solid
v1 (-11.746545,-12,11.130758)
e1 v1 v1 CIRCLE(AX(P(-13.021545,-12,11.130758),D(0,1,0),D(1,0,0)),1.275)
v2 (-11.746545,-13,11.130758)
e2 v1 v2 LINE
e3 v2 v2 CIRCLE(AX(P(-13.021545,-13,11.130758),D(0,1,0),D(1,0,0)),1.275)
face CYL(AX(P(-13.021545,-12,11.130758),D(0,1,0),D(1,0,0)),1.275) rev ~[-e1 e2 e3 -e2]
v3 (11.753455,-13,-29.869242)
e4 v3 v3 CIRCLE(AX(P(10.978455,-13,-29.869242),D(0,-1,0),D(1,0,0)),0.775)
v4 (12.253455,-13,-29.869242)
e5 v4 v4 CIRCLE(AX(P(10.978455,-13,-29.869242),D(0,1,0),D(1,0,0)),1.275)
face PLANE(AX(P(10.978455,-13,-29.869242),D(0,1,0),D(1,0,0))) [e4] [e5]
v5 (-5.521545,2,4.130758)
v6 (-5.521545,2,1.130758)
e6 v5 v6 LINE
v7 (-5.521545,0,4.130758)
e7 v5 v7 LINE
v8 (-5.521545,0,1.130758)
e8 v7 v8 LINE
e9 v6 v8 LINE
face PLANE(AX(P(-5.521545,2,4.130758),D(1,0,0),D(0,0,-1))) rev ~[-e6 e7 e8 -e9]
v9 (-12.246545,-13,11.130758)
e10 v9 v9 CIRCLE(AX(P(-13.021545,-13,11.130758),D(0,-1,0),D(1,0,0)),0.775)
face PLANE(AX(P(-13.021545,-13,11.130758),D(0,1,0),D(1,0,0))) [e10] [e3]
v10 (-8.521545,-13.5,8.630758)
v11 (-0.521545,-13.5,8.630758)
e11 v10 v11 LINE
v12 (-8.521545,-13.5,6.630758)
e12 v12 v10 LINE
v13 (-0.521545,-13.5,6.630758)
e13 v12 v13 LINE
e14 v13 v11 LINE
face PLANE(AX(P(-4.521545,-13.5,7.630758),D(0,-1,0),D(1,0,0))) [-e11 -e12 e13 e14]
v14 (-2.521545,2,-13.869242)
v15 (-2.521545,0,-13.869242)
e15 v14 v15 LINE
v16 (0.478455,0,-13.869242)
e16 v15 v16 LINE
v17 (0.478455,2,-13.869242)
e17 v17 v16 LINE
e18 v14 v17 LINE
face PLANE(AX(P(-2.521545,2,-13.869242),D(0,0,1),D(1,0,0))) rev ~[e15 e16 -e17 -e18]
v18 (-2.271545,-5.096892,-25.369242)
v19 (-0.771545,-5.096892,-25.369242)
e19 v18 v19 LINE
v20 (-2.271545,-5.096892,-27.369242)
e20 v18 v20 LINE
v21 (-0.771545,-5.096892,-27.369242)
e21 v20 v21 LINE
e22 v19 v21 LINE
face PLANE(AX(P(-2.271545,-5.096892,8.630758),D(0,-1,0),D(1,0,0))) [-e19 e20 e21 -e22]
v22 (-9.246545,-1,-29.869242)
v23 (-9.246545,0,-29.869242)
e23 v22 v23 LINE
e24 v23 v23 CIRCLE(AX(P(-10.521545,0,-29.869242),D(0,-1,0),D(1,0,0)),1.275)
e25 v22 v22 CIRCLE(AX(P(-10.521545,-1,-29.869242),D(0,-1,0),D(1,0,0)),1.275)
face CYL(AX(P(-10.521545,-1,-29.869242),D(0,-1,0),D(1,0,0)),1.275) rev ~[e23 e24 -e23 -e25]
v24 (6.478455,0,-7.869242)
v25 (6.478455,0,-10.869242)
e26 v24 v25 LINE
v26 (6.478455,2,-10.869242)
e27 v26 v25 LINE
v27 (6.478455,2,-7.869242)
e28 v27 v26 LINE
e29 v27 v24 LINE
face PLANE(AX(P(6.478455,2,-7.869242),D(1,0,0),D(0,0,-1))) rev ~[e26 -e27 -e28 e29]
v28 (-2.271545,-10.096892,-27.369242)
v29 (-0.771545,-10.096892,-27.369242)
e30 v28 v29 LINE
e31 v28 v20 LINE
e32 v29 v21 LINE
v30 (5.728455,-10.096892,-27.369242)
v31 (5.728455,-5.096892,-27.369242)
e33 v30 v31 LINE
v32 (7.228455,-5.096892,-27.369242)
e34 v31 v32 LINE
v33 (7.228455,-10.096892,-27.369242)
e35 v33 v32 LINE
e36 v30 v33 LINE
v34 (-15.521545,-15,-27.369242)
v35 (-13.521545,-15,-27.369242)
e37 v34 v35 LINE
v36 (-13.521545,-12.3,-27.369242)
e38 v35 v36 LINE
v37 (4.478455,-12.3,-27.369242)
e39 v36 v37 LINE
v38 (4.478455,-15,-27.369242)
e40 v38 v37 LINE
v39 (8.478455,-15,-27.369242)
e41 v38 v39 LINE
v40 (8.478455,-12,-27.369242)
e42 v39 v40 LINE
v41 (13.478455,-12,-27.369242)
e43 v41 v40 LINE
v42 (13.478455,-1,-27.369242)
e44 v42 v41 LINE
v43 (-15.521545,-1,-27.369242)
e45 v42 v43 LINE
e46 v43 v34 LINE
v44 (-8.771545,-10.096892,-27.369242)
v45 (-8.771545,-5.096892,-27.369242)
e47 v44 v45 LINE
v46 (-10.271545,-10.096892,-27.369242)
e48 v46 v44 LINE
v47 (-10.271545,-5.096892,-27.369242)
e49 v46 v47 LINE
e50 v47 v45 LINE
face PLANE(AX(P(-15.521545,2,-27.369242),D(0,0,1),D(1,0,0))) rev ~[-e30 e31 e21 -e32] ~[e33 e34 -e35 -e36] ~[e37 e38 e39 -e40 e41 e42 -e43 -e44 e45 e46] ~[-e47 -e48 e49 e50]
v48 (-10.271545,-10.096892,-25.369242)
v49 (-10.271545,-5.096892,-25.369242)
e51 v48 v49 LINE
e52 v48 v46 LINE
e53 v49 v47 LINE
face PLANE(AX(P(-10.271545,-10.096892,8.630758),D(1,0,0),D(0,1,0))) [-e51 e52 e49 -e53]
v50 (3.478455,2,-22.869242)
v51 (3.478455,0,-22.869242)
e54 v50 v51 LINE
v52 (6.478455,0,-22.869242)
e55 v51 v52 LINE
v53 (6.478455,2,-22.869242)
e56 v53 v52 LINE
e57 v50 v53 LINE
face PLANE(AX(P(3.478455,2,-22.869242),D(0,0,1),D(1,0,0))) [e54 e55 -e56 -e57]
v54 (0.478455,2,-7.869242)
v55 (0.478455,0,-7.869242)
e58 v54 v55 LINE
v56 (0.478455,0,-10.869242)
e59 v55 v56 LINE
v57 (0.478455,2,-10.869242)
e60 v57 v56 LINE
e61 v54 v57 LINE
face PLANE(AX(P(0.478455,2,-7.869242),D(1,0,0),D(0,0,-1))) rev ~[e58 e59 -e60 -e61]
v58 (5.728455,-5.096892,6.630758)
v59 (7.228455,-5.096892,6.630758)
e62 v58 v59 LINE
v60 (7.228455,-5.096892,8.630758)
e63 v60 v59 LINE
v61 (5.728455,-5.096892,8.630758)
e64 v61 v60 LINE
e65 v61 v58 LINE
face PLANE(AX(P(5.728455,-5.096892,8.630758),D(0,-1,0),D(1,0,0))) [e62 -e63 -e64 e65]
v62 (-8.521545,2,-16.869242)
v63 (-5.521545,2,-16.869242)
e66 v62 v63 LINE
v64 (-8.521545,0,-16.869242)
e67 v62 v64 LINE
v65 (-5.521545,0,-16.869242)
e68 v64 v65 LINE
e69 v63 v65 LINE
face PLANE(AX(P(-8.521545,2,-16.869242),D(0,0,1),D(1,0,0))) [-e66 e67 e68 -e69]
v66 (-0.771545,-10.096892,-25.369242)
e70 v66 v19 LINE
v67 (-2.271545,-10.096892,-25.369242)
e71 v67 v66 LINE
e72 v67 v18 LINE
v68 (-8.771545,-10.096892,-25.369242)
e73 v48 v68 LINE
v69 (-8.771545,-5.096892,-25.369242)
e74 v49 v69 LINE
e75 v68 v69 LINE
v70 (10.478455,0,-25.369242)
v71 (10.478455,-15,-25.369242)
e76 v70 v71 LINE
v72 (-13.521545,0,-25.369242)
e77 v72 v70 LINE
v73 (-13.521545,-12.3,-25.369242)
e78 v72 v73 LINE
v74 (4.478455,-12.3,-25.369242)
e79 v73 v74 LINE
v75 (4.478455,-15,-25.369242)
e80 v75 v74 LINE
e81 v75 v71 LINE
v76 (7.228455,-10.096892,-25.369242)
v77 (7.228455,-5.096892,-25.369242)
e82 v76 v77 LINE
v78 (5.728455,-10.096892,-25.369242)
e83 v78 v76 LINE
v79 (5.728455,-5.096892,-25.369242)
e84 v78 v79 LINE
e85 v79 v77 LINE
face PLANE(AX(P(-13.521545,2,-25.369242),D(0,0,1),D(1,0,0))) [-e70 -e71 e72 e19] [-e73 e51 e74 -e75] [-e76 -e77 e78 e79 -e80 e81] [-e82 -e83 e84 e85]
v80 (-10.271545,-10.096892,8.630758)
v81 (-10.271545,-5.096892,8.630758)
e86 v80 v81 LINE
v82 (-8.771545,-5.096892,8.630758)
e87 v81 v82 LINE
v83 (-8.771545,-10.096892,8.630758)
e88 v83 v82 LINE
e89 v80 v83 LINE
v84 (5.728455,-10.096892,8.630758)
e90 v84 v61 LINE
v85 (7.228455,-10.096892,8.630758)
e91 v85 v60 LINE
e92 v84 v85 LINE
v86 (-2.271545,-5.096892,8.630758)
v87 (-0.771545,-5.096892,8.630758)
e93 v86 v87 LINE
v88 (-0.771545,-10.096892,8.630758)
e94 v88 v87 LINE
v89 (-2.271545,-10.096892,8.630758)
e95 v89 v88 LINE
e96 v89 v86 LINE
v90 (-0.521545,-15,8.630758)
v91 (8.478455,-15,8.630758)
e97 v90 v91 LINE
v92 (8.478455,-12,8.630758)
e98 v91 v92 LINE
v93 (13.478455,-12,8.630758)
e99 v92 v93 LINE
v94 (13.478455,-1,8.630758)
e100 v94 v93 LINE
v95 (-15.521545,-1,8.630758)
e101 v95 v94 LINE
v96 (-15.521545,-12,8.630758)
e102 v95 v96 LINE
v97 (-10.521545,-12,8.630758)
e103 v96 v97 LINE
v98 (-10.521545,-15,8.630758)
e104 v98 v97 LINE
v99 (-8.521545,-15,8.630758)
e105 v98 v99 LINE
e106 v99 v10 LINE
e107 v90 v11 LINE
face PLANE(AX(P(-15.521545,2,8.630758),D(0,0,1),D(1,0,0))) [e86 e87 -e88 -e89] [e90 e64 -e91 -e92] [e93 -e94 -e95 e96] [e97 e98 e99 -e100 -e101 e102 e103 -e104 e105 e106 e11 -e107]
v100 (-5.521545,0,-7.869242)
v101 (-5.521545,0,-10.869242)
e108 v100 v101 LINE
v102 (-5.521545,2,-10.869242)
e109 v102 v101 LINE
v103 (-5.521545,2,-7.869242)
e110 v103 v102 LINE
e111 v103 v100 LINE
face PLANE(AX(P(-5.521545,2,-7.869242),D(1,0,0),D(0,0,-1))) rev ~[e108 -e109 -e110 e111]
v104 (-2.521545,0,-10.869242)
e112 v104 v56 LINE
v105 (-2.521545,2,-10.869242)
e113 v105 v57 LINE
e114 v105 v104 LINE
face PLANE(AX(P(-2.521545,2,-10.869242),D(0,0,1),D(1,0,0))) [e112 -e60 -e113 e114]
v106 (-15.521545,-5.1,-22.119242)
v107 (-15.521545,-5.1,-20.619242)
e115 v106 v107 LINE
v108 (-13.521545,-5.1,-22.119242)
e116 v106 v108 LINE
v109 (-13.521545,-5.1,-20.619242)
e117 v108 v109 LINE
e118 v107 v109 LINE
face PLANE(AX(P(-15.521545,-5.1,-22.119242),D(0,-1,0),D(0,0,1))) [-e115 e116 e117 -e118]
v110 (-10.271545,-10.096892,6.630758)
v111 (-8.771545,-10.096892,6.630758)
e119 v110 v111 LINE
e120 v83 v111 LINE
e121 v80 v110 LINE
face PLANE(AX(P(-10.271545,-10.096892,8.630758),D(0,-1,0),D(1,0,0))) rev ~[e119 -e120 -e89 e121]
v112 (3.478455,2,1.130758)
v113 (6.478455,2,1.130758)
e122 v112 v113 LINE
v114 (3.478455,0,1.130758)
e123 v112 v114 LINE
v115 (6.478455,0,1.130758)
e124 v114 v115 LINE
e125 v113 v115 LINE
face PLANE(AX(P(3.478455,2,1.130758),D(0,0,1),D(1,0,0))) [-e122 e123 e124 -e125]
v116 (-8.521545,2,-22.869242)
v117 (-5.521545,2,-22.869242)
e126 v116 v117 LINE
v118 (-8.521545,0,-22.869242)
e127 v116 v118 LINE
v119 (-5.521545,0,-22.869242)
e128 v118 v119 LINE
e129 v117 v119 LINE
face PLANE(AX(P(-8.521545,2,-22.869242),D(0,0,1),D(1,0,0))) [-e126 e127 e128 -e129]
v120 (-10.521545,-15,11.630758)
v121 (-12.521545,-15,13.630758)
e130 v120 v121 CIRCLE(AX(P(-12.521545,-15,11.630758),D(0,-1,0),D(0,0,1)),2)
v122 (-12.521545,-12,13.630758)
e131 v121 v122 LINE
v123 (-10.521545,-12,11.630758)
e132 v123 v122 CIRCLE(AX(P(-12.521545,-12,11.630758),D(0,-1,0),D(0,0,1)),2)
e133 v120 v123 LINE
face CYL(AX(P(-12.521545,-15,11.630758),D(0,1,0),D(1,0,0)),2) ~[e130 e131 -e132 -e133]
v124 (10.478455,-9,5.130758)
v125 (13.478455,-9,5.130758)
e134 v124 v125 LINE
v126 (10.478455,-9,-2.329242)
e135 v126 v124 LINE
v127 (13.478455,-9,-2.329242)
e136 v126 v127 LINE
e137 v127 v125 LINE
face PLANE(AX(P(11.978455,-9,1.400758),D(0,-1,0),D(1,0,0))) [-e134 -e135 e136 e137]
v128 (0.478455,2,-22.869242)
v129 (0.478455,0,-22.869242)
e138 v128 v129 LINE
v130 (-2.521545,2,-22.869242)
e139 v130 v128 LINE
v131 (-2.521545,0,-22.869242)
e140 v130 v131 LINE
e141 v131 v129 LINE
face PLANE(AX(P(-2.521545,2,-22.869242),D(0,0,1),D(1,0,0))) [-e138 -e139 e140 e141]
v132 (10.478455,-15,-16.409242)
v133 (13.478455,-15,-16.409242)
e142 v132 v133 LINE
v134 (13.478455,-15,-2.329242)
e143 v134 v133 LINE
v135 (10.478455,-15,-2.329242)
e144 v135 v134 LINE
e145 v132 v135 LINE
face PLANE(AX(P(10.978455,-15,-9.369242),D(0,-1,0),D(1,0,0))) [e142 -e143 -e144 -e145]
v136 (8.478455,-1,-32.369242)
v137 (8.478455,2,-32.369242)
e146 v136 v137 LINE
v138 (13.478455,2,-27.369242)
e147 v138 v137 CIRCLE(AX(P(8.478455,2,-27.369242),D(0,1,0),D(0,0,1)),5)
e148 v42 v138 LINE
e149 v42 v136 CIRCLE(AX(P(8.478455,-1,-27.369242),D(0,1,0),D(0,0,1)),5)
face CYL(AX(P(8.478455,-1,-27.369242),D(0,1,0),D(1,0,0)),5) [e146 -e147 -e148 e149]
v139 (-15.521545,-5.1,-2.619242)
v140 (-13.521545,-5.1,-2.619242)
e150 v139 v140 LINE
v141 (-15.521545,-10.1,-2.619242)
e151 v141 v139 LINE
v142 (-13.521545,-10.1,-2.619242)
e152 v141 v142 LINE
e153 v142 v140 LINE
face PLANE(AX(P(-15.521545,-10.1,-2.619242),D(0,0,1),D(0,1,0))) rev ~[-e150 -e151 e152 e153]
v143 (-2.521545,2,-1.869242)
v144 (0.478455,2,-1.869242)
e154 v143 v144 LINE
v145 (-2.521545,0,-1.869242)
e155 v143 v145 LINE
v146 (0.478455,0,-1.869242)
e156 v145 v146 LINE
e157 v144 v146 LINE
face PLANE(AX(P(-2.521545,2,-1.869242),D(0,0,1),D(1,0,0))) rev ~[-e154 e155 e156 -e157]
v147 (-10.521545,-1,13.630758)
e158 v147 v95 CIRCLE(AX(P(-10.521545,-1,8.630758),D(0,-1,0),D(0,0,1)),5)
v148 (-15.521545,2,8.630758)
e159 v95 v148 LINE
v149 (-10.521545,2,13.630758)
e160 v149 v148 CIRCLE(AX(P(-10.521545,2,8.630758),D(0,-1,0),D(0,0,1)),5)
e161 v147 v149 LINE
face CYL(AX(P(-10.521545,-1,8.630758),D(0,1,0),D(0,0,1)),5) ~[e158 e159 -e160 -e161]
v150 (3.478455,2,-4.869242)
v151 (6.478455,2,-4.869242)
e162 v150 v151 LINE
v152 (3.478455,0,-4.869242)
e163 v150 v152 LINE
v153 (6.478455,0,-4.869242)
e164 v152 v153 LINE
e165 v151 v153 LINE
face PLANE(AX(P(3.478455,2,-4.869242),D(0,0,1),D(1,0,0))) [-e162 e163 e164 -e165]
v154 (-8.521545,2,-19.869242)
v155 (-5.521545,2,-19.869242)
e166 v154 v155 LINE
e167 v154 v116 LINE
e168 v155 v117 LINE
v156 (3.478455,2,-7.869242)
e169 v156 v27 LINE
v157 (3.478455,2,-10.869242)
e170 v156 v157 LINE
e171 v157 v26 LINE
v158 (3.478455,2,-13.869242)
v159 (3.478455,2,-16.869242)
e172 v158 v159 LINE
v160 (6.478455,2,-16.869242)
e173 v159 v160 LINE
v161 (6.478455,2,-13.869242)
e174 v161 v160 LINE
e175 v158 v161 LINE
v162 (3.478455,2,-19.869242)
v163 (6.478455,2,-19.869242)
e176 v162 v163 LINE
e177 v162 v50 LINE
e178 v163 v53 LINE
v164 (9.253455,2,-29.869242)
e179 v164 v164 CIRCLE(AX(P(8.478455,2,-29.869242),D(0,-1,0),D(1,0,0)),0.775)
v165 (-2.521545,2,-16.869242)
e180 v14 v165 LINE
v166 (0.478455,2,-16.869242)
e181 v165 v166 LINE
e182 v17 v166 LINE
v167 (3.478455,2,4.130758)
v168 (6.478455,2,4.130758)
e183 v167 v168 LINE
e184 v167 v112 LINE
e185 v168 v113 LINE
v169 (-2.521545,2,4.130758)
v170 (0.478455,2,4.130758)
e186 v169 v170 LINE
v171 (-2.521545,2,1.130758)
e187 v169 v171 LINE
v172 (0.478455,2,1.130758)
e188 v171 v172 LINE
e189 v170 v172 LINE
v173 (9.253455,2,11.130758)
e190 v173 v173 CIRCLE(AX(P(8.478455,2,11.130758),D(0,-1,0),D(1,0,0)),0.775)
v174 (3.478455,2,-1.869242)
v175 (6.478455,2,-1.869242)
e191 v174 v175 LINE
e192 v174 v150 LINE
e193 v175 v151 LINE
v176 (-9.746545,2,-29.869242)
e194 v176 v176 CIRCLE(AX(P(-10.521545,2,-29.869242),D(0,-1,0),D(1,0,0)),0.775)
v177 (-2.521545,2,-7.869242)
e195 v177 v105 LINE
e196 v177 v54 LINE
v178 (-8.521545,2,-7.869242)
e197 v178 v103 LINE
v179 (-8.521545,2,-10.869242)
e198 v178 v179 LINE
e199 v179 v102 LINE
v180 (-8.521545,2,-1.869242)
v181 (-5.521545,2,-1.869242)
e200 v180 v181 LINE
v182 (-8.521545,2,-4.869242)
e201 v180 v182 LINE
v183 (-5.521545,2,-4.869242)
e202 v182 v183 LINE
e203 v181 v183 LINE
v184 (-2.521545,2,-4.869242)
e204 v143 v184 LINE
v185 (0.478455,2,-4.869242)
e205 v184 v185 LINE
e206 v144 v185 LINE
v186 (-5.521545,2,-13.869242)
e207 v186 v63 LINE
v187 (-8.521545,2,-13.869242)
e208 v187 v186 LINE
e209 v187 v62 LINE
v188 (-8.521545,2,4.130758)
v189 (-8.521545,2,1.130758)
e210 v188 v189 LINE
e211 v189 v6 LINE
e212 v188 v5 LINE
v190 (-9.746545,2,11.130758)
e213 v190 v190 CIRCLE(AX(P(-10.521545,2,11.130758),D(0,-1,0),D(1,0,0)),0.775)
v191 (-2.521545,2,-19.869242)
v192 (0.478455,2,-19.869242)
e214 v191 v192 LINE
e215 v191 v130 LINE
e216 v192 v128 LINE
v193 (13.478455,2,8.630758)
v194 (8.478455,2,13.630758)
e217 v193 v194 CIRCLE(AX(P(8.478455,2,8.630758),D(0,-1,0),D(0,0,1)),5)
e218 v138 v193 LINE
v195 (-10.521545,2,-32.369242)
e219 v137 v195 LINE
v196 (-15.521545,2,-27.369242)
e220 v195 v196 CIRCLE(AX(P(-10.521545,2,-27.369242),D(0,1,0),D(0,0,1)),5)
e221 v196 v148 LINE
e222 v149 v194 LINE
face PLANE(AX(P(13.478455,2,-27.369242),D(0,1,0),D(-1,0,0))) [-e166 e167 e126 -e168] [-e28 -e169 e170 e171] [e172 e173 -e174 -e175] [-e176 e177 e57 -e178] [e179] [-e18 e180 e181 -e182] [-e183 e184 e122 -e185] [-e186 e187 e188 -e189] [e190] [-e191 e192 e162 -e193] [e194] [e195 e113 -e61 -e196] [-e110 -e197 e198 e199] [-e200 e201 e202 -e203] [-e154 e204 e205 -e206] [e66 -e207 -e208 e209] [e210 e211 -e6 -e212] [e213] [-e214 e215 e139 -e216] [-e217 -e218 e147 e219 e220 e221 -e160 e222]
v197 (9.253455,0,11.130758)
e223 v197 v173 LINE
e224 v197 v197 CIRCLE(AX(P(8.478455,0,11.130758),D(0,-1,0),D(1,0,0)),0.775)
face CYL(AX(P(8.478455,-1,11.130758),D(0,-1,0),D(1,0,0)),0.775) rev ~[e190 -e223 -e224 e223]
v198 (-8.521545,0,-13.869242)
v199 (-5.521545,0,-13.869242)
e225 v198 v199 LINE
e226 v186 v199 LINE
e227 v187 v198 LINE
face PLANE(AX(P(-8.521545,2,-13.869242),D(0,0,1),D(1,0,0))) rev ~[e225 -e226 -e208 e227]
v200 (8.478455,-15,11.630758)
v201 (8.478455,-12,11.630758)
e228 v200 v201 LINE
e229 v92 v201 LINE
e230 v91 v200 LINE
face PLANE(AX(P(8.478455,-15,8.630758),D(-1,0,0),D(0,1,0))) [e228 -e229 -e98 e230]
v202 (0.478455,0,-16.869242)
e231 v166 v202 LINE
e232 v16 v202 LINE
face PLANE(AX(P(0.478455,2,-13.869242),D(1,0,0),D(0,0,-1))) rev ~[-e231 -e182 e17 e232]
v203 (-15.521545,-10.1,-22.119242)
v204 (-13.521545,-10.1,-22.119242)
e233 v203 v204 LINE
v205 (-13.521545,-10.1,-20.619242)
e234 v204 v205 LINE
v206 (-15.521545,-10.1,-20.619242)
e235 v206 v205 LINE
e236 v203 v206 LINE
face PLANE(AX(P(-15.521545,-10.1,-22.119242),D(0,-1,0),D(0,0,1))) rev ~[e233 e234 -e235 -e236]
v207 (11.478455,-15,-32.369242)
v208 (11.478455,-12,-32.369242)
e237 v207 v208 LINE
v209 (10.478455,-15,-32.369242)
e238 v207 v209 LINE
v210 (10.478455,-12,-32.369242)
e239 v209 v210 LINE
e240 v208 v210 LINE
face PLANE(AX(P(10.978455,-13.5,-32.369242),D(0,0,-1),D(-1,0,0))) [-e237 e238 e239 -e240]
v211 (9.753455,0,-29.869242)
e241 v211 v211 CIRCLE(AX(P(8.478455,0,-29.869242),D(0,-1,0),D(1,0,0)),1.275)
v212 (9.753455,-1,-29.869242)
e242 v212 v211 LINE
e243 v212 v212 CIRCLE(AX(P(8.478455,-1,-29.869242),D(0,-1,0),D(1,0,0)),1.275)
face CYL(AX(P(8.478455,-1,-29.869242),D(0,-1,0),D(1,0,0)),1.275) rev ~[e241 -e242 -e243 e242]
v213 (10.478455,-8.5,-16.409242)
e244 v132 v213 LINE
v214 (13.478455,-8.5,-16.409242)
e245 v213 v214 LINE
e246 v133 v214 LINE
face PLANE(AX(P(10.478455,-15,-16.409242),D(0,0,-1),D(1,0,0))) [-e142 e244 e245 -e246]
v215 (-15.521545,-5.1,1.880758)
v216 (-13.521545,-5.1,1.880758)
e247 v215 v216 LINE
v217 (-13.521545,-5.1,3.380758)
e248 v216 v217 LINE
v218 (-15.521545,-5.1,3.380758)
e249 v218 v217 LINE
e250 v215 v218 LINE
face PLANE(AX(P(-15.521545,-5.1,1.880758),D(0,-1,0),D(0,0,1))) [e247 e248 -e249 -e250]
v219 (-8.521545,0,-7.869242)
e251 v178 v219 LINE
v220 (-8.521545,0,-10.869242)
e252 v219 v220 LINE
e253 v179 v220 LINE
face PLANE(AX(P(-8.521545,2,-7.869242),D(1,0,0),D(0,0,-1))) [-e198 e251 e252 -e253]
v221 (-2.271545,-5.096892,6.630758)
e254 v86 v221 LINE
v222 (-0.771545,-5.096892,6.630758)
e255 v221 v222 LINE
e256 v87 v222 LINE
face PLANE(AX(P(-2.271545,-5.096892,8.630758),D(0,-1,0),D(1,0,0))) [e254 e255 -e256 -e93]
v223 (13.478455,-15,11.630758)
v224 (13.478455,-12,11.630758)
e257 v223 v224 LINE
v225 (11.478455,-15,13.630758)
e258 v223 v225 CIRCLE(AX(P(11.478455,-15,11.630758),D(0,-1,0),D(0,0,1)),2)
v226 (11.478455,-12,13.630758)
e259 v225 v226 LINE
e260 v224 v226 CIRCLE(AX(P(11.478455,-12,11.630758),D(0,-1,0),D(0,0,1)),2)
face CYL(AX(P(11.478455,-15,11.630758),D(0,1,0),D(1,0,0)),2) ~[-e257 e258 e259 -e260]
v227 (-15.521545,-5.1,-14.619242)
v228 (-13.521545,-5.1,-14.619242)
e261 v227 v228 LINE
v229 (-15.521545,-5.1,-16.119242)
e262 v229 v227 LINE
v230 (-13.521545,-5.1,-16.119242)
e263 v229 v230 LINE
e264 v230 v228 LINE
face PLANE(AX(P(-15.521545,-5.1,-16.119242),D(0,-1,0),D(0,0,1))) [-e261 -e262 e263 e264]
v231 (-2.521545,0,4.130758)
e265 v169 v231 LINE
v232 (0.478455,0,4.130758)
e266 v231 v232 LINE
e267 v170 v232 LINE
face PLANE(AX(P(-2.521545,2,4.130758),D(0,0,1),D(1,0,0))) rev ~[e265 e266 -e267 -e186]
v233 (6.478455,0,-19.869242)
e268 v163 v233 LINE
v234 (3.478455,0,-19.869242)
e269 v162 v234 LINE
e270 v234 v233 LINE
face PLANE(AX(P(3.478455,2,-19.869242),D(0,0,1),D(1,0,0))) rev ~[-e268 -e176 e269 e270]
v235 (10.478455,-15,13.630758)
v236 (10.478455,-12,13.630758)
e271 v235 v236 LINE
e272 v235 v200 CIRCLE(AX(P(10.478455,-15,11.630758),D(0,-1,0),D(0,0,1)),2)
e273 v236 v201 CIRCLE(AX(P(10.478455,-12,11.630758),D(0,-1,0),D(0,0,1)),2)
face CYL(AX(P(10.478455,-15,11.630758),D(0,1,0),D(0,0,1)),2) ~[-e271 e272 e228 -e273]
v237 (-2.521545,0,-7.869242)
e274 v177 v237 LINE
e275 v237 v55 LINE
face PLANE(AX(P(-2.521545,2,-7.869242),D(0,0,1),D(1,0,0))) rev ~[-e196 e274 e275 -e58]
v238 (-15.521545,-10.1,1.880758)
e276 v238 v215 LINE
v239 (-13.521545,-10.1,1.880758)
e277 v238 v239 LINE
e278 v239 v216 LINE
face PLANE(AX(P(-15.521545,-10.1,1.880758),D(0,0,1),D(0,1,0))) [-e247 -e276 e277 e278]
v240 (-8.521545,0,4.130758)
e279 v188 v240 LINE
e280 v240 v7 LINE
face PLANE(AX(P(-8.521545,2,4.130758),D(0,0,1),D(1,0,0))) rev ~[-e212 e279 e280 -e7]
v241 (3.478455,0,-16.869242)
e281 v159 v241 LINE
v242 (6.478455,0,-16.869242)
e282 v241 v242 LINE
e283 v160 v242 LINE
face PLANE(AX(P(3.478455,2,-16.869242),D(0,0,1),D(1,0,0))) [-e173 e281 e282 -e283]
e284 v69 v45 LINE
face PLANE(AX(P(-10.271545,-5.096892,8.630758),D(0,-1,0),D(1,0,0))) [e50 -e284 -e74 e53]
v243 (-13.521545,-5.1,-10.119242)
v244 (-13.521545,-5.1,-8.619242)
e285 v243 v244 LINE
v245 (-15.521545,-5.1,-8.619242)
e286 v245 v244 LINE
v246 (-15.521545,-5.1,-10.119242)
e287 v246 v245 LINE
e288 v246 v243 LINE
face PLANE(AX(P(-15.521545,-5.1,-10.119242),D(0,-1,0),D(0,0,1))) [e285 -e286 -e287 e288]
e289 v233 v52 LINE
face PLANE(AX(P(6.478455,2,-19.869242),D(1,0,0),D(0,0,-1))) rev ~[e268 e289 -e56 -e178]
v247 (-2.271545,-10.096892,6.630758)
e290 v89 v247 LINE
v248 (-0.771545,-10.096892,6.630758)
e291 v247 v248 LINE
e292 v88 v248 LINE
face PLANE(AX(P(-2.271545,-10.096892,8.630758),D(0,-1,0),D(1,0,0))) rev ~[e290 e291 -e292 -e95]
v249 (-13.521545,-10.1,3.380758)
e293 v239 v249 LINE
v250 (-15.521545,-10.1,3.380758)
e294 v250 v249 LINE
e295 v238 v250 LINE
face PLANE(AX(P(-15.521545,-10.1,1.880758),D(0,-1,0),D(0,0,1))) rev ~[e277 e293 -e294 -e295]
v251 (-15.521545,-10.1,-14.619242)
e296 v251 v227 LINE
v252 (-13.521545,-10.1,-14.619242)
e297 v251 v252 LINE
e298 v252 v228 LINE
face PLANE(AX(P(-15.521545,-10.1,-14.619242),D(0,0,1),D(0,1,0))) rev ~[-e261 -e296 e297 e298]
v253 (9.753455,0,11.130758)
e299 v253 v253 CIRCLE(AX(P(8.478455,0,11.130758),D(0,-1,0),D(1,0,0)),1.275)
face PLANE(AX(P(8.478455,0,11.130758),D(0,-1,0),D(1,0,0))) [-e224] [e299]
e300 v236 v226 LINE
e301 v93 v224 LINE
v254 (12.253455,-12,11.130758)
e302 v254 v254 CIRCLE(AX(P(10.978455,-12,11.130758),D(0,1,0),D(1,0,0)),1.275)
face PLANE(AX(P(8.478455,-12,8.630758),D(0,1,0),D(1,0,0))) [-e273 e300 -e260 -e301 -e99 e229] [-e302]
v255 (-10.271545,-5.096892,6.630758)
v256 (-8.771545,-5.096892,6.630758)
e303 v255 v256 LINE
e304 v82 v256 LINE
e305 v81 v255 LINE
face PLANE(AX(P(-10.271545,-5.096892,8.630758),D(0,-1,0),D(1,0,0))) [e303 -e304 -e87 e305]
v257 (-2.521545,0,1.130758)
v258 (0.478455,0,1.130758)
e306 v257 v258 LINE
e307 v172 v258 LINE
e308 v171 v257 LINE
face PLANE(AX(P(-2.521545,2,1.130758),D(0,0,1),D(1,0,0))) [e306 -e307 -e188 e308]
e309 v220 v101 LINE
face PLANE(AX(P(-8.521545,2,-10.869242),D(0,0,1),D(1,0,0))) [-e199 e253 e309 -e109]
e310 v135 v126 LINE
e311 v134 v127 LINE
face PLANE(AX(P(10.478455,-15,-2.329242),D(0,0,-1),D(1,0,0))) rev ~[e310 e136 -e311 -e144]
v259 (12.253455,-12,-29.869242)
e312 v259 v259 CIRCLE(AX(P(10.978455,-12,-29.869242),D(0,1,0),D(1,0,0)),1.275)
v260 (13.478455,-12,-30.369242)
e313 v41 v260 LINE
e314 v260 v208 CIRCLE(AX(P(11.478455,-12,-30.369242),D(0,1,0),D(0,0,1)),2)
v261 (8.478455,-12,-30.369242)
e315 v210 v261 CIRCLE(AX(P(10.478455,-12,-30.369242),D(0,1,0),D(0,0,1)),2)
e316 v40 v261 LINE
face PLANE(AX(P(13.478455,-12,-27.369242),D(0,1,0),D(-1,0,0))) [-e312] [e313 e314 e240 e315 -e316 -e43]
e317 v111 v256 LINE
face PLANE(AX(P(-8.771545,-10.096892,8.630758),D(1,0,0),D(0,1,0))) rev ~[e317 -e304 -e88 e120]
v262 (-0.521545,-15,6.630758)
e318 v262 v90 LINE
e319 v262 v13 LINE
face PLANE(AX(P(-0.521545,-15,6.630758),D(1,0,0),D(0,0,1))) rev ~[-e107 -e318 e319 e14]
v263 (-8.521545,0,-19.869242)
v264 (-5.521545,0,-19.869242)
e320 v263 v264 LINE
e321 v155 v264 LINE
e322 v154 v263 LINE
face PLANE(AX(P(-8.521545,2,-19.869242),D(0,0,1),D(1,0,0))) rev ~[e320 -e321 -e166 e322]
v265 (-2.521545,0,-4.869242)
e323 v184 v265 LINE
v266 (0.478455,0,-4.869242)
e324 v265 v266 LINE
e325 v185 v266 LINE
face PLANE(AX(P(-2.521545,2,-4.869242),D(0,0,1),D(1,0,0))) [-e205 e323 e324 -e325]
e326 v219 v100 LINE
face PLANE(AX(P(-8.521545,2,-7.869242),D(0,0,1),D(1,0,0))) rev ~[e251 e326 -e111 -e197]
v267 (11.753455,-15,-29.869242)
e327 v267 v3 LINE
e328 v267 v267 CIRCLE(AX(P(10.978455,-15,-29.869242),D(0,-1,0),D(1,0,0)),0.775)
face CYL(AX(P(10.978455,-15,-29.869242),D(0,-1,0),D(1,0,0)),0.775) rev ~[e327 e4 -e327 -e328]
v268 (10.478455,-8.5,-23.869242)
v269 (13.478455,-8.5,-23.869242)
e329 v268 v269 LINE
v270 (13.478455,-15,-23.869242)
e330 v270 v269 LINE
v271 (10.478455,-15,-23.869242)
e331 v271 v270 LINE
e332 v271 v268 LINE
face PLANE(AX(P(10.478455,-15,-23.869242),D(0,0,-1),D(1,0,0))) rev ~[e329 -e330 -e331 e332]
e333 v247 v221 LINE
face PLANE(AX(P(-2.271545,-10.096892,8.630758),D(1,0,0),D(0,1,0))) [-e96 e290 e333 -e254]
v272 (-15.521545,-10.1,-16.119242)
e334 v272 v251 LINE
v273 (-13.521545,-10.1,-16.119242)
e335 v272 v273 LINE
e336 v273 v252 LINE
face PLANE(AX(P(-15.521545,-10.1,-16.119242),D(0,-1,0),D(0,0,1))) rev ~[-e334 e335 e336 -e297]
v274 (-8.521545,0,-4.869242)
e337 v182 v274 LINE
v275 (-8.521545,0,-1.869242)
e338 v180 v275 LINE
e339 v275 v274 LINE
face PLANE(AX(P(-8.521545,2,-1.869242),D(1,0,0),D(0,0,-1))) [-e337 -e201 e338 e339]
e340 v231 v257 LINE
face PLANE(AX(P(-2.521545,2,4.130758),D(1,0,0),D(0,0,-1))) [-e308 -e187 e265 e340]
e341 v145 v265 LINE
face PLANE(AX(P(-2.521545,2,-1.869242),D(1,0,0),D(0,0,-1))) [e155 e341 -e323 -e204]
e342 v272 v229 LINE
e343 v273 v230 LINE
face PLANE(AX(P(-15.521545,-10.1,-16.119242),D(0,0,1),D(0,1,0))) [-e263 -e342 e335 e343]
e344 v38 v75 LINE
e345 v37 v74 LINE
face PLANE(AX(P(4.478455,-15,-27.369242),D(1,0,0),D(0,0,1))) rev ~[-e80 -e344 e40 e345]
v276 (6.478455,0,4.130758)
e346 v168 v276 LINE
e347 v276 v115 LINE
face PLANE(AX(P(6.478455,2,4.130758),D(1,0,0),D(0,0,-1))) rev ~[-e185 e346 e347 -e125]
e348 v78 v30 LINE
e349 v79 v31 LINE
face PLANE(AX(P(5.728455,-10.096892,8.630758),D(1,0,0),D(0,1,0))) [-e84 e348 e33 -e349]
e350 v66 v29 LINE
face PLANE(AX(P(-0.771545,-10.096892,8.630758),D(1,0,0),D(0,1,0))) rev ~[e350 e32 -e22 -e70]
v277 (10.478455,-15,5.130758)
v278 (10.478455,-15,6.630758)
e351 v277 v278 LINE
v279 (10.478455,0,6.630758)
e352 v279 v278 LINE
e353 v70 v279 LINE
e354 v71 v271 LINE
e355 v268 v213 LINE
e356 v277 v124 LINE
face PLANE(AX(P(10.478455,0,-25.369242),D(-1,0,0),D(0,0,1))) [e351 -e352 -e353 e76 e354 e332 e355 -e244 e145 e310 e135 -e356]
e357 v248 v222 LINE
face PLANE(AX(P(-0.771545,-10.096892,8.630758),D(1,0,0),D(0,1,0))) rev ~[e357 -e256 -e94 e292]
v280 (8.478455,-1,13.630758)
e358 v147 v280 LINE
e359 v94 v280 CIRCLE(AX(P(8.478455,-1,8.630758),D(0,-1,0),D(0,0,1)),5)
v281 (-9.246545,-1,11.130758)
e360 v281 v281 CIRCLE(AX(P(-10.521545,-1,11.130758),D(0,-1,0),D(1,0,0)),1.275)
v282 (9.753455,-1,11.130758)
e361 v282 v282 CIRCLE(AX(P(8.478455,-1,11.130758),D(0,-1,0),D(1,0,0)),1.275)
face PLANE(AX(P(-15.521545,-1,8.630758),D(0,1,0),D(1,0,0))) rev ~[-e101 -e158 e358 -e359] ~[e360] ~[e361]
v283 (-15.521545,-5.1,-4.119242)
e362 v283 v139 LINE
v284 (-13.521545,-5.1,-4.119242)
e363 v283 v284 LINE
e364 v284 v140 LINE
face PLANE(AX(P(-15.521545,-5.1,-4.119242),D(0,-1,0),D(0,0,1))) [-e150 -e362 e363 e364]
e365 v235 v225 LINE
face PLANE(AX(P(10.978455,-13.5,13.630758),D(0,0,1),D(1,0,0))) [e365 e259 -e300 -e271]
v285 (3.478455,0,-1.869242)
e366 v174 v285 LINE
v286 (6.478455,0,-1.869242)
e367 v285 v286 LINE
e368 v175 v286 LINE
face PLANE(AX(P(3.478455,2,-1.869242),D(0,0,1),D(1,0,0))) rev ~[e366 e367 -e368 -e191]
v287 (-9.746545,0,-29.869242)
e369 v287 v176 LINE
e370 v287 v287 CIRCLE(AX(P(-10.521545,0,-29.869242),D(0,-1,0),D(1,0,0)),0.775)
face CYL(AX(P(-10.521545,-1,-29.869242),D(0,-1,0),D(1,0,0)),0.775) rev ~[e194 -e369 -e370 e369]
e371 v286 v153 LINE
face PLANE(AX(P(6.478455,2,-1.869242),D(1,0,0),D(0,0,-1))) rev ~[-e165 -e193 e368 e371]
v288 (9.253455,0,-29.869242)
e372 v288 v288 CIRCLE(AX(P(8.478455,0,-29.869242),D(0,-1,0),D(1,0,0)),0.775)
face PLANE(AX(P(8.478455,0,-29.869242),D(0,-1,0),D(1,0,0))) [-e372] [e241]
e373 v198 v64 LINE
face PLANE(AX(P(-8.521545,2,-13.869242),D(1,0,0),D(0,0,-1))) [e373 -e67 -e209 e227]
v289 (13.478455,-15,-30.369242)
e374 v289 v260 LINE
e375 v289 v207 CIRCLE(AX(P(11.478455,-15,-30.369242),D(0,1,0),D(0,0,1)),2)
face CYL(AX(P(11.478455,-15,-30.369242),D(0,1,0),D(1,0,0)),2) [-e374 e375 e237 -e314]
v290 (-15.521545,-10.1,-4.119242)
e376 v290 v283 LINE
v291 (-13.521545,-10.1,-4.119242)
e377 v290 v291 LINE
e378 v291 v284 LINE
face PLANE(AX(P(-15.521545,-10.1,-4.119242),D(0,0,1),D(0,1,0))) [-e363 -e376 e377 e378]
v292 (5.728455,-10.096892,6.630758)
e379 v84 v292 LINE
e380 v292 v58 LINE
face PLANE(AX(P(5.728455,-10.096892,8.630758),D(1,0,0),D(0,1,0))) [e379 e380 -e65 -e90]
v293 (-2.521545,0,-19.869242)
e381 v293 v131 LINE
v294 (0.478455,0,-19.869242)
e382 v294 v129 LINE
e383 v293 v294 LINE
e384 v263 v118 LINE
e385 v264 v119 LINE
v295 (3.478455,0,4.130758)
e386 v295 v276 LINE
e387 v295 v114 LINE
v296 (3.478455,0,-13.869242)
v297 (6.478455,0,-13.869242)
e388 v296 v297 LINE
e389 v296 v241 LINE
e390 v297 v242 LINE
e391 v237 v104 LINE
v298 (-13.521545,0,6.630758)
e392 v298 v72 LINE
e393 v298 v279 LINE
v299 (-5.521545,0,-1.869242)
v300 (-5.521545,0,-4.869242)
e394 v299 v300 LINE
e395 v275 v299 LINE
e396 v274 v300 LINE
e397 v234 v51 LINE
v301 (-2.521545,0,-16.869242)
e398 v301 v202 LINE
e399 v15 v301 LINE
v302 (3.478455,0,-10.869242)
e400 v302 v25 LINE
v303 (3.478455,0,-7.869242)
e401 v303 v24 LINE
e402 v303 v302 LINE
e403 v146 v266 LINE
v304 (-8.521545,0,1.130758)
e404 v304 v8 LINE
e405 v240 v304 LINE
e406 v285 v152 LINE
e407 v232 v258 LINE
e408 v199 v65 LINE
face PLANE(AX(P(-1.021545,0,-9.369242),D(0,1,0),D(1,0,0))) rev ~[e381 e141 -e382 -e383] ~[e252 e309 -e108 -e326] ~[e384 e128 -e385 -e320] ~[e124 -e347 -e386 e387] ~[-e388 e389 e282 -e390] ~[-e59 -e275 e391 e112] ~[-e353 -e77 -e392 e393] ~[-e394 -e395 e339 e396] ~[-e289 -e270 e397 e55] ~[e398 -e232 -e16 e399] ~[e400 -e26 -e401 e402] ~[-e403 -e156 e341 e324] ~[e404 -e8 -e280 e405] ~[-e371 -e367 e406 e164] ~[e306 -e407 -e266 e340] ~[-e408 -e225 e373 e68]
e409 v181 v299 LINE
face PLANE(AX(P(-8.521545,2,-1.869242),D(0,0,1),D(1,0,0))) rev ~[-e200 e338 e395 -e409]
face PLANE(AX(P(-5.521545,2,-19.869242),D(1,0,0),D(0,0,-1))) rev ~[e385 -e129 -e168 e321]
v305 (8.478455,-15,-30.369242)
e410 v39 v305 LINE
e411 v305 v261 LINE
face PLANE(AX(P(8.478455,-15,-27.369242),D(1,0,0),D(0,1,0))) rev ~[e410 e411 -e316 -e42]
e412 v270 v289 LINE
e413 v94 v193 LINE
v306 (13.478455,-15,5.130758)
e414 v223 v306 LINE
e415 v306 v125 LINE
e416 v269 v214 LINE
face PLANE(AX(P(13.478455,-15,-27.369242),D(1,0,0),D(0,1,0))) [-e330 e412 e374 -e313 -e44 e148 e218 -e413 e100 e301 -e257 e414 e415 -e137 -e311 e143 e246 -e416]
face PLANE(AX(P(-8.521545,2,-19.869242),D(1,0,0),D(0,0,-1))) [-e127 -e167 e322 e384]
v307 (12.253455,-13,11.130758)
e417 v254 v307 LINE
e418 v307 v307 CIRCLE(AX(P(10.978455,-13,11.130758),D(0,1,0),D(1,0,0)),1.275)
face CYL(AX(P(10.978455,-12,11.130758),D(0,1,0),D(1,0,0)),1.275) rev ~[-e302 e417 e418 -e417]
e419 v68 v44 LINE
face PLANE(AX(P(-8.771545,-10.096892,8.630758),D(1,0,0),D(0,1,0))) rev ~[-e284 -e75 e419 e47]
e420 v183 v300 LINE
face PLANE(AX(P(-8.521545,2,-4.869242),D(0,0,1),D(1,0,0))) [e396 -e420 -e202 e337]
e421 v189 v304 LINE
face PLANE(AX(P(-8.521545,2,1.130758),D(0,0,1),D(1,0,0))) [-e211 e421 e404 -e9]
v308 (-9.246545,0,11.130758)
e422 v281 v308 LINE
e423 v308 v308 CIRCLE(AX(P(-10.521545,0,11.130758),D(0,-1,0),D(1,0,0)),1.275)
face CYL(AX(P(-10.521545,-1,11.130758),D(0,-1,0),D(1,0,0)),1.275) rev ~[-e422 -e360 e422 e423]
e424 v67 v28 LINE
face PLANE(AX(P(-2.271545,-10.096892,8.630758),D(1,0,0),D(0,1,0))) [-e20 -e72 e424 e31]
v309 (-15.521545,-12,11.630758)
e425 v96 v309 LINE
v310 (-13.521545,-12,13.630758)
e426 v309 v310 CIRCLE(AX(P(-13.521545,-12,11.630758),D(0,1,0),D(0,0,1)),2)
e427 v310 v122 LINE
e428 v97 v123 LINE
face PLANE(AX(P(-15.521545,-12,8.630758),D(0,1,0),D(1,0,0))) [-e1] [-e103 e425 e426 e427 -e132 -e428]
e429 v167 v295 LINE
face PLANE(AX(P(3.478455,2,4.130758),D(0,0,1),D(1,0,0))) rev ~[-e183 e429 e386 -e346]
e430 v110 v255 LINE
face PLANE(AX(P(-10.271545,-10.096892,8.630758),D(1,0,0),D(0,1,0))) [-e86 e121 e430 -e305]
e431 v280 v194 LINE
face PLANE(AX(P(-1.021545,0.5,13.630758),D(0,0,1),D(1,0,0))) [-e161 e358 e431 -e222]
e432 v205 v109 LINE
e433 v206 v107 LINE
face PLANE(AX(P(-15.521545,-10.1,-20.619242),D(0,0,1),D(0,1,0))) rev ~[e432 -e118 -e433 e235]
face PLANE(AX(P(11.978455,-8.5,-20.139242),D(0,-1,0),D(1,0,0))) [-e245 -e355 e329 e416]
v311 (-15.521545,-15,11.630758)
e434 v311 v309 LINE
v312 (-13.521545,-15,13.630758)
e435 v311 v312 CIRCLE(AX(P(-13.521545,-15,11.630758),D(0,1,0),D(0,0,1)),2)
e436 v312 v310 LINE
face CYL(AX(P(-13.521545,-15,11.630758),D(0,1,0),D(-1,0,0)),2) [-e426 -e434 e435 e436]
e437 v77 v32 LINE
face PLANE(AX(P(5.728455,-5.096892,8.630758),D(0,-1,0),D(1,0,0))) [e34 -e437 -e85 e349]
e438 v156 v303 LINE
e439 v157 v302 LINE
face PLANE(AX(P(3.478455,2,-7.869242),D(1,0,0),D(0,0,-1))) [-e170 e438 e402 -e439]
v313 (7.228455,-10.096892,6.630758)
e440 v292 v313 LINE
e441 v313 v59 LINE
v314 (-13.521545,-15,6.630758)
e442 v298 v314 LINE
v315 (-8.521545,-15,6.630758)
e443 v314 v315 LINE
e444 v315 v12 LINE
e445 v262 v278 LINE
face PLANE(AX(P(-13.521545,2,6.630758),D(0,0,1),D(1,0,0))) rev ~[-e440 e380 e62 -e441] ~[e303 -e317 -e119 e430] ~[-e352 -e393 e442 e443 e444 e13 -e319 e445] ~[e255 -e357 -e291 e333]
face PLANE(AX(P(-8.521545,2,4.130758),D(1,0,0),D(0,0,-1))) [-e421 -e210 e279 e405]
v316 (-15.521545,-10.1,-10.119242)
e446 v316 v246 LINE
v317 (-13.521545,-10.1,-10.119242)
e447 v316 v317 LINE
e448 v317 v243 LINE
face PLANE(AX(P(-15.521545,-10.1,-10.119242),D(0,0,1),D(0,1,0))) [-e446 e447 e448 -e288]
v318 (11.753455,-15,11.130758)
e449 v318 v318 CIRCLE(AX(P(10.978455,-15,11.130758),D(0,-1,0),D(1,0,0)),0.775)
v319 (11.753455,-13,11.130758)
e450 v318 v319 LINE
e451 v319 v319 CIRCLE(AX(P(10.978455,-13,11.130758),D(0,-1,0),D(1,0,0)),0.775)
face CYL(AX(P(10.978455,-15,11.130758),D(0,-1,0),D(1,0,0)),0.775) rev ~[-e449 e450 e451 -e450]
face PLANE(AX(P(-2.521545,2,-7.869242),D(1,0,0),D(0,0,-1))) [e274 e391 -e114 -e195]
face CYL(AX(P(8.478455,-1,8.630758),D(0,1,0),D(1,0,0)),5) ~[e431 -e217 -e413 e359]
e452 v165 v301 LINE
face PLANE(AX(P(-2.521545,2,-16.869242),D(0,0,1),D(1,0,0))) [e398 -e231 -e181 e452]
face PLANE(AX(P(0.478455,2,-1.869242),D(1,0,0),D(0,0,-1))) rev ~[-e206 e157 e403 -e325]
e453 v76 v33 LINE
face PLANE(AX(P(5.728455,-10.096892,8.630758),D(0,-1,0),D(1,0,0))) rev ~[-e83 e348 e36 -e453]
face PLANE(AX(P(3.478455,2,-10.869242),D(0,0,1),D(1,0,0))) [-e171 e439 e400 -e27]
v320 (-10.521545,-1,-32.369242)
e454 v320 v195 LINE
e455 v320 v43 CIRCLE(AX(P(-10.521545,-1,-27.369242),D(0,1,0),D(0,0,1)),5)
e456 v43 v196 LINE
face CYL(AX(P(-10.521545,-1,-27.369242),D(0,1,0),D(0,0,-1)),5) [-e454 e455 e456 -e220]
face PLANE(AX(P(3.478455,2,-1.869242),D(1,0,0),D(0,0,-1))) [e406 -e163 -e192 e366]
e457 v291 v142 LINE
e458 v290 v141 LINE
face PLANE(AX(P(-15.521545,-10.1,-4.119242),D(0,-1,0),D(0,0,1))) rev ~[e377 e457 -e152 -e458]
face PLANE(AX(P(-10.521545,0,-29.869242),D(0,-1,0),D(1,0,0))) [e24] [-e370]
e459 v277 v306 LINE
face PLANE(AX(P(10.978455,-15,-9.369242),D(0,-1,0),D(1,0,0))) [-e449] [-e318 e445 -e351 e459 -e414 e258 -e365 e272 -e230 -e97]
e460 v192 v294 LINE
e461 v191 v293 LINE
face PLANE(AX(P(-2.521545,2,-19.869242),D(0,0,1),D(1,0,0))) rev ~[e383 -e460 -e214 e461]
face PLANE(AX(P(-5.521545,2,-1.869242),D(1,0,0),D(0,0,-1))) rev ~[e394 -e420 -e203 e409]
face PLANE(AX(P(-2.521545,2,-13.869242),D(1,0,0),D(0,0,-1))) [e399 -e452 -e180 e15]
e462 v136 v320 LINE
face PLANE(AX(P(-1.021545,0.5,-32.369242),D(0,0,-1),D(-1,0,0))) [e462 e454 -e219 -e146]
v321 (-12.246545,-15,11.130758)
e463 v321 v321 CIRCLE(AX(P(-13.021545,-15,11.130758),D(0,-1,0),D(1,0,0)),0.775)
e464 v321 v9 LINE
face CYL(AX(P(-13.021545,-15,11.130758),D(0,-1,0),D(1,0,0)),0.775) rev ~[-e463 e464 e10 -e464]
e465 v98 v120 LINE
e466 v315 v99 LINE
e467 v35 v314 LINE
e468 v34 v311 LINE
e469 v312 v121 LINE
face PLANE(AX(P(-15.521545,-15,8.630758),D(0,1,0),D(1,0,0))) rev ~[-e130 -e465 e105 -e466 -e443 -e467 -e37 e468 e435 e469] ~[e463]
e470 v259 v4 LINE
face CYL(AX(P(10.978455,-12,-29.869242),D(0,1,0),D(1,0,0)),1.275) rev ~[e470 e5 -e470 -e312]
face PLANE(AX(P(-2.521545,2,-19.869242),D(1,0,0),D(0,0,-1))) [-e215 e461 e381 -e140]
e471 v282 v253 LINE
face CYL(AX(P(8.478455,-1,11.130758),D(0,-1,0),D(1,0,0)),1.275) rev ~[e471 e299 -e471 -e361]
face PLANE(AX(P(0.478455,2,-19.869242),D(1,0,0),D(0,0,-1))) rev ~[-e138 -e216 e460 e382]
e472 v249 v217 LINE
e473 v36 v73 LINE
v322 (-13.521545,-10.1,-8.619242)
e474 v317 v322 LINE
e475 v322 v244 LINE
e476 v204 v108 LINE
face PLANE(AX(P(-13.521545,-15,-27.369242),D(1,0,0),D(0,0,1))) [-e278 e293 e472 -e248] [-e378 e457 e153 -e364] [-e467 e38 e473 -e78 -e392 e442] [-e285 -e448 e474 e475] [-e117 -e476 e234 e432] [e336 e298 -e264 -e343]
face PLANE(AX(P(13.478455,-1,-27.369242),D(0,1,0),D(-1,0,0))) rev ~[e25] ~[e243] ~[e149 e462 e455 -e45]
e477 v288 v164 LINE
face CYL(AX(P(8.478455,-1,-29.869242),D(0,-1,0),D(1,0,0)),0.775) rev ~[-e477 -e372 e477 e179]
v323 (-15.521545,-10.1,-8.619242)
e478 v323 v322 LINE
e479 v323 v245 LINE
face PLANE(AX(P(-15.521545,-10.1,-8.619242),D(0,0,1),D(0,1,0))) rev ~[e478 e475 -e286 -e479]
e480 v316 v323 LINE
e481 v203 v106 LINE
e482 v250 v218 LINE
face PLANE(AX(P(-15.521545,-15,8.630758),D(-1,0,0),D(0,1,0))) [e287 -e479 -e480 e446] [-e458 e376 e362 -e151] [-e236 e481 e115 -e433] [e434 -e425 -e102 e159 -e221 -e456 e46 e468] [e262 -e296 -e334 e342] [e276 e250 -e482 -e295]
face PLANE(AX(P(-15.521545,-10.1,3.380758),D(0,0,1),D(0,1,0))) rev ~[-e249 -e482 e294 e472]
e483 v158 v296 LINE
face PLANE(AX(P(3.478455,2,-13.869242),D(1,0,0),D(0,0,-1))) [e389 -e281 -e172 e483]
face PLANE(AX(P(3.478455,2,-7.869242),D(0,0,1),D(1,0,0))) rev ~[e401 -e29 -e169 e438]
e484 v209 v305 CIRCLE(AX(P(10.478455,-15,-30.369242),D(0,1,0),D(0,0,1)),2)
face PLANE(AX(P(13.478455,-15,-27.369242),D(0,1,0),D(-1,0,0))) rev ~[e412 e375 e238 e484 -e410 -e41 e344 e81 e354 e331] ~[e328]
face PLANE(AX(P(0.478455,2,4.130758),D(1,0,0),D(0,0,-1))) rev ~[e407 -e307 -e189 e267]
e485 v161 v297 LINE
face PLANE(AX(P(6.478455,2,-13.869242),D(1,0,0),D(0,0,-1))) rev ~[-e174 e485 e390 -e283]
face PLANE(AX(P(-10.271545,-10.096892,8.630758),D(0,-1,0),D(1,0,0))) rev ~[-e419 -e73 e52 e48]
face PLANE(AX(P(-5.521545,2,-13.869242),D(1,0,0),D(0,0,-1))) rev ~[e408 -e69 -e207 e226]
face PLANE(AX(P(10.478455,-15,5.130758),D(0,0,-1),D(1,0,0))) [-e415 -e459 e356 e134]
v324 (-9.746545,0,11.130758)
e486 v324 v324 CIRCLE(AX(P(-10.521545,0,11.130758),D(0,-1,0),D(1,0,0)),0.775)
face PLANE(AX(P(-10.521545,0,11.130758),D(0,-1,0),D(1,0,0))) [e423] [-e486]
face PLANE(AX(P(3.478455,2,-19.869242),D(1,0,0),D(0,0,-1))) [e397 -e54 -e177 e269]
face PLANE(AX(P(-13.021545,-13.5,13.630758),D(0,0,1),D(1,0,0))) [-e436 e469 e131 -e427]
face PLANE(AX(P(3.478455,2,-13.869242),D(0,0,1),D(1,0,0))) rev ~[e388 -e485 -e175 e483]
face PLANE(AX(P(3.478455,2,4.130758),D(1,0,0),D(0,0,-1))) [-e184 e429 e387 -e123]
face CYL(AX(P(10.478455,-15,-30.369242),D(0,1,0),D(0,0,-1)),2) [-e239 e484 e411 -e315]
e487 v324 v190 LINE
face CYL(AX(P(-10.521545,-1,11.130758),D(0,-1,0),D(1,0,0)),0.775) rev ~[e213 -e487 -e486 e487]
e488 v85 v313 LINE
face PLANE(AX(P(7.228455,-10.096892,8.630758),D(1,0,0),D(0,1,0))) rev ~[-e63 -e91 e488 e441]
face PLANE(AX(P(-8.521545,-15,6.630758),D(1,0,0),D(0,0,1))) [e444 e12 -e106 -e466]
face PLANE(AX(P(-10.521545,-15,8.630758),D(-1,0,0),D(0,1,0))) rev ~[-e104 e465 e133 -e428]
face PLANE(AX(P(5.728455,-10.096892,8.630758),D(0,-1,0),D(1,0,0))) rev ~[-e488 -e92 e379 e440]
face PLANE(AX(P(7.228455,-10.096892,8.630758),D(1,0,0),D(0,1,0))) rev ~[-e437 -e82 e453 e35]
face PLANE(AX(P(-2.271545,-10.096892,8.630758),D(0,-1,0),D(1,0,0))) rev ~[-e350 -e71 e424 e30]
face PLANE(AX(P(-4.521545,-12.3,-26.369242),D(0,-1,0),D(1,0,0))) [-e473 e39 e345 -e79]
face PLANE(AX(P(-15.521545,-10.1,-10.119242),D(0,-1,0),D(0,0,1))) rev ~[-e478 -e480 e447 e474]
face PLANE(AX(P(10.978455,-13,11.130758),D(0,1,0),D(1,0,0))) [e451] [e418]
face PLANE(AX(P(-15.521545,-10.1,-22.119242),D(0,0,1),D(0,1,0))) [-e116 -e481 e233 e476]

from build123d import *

# Parameters (mm, degrees)
SKETCH1_W           = 25
SKETCH1_H           = 32
BOSS_EXTRUDE1_DEPTH = 2
SKETCH2_W           = 29
SKETCH2_H           = 36
SKETCH2_W_2         = 25
SKETCH2_H_2         = 32
BOSS_EXTRUDE2_DEPTH = 17
SKETCH3_W           = 18
SKETCH3_H           = 2
CUT_EXTRUDE1_DEPTH  = 2.7
SKETCH4_W           = 8
SKETCH4_H           = 2
CUT_EXTRUDE2_DEPTH  = 1.5
SKETCH7_W           = 1
SKETCH7_H           = 32
BOSS_EXTRUDE3_DEPTH = 15
SKETCH8_W           = 3
SKETCH8_H           = 7.46
CUT_EXTRUDE4_DEPTH  = 6
SKETCH9_W           = 3
SKETCH9_H           = 7.46
CUT_EXTRUDE5_DEPTH  = 6.5
SKETCH10_W          = 29
SKETCH10_H          = 3
BOSS_EXTRUDE4_DEPTH = 5
SKETCH11_W          = 29
SKETCH11_H          = 3
BOSS_EXTRUDE5_DEPTH = 5
SKETCH12_R          = 0.775
CUT_EXTRUDE6_DEPTH  = 4
FILLET1_R           = 5
SKETCH13_R          = 1.275
CUT_EXTRUDE7_DEPTH  = 1
SKETCH14_W          = 5
SKETCH14_H          = 3
BOSS_EXTRUDE6_DEPTH = 5
SKETCH15_W          = 5
SKETCH15_H          = 3
BOSS_EXTRUDE7_DEPTH = 5
SKETCH16_R          = 0.775
CUT_EXTRUDE8_DEPTH  = 5
FILLET2_R           = 2
SKETCH17_R          = 1.275
CUT_EXTRUDE9_DEPTH  = 1
SKETCH18_W          = 1.5
SKETCH18_H          = 5
CUT_EXTRUDE10_DEPTH = 42
SKETCH19_W          = 3
SKETCH19_H          = 3
CUT_EXTRUDE11_DEPTH = 18
SKETCH21_W          = 1.5
SKETCH21_H          = 5
CUT_EXTRUDE12_DEPTH = 2


with BuildPart() as part:
    # Sketch1 → Boss-Extrude1 (new body)
    with BuildSketch(Plane(origin=(0, 0, 0), x_dir=(1, 0, 0), z_dir=(0, 1, 0))):
        with Locations((-1.021545319, 9.369242199)):
            Rectangle(SKETCH1_W, SKETCH1_H)
    extrude(amount=BOSS_EXTRUDE1_DEPTH)

    # Sketch2 → Boss-Extrude2 (add)
    with BuildSketch(Plane(origin=(0, 2, 0), x_dir=(1, 0, 0), z_dir=(0, 1, 0))):
        with Locations((-1.021545319, 9.369242199)):
            Rectangle(SKETCH2_W, SKETCH2_H)
        with Locations((-1.021545319, 9.369242199)):
            Rectangle(SKETCH2_W_2, SKETCH2_H_2, mode=Mode.SUBTRACT)
    extrude(amount=-BOSS_EXTRUDE2_DEPTH)

    # Sketch3 → Cut-Extrude1 (cut)
    with BuildSketch(Plane.XZ.offset(15)):
        with Locations((-4.521545319, -26.369242199)):
            Rectangle(SKETCH3_W, SKETCH3_H)
    extrude(amount=-CUT_EXTRUDE1_DEPTH, mode=Mode.SUBTRACT)

    # Sketch4 → Cut-Extrude2 (cut)
    with BuildSketch(Plane.XZ.offset(15)):
        with Locations((-4.521545319, 7.630757801)):
            Rectangle(SKETCH4_W, SKETCH4_H)
    extrude(amount=-CUT_EXTRUDE2_DEPTH, mode=Mode.SUBTRACT)

    # Sketch7 → Boss-Extrude3 (add)
    with BuildSketch(Plane.XZ):
        with Locations((10.978454681, -9.369242199)):
            Rectangle(SKETCH7_W, SKETCH7_H)
    extrude(amount=BOSS_EXTRUDE3_DEPTH)

    # Sketch8 → Cut-Extrude4 (cut)
    with BuildSketch(Plane.XZ.offset(15)):
        with Locations((11.978454681, 1.400757801)):
            Rectangle(SKETCH8_W, SKETCH8_H)
    extrude(amount=-CUT_EXTRUDE4_DEPTH, mode=Mode.SUBTRACT)

    # Sketch9 → Cut-Extrude5 (cut)
    with BuildSketch(Plane.XZ.offset(15)):
        with Locations((11.978454681, -20.139242199)):
            Rectangle(SKETCH9_W, SKETCH9_H)
    extrude(amount=-CUT_EXTRUDE5_DEPTH, mode=Mode.SUBTRACT)

    # Sketch10 → Boss-Extrude4 (add)
    with BuildSketch(Plane.XY.offset(8.630757801)):
        with Locations((-1.021545319, 0.5)):
            Rectangle(SKETCH10_W, SKETCH10_H)
    extrude(amount=BOSS_EXTRUDE4_DEPTH)

    # Sketch11 → Boss-Extrude5 (add)
    with BuildSketch(Plane(origin=(0, 0, -27.369242199), x_dir=(-1, 0, 0), z_dir=(0, 0, -1))):
        with Locations((1.021545319, 0.5)):
            Rectangle(SKETCH11_W, SKETCH11_H)
    extrude(amount=BOSS_EXTRUDE5_DEPTH)

    # Sketch12 → Cut-Extrude6 (cut, through all)
    with BuildSketch(Plane.XZ.offset(1)):
        with Locations((-10.521545319, 11.130757801)):
            Circle(SKETCH12_R)
        with Locations((8.478454681, 11.130757801)):
            Circle(SKETCH12_R)
        with Locations((8.478454681, -29.869242199)):
            Circle(SKETCH12_R)
        with Locations((-10.521545319, -29.869242199)):
            Circle(SKETCH12_R)
    extrude(amount=-CUT_EXTRUDE6_DEPTH, mode=Mode.SUBTRACT)

    # Fillet1
    fillet1_edges = [part.edges().sort_by_distance(p)[0] for p in [
        (-15.521545319, 0.5, -32.369242199),
        (13.478454681, 0.5, -32.369242199),
        (13.478454681, 0.5, 13.630757801),
        (-15.521545319, 0.5, 13.630757801),
    ]]
    fillet(fillet1_edges, radius=FILLET1_R)

    # Sketch13 → Cut-Extrude7 (cut)
    with BuildSketch(Plane.XZ.offset(1)):
        with Locations((8.478454681, -29.869242199)):
            Circle(SKETCH13_R)
        with Locations((-10.521545319, -29.869242199)):
            Circle(SKETCH13_R)
        with Locations((8.478454681, 11.130757801)):
            Circle(SKETCH13_R)
        with Locations((-10.521545319, 11.130757801)):
            Circle(SKETCH13_R)
    extrude(amount=-CUT_EXTRUDE7_DEPTH, mode=Mode.SUBTRACT)

    # Sketch14 → Boss-Extrude6 (add)
    with BuildSketch(Plane.XY.offset(8.630757801)):
        with Locations((-13.021545319, -13.5)):
            Rectangle(SKETCH14_W, SKETCH14_H)
        with Locations((10.978454681, -13.5)):
            Rectangle(SKETCH14_W, SKETCH14_H)
    extrude(amount=BOSS_EXTRUDE6_DEPTH)

    # Sketch15 → Boss-Extrude7 (add)
    with BuildSketch(Plane(origin=(0, 0, -27.369242199), x_dir=(-1, 0, 0), z_dir=(0, 0, -1))):
        with Locations((-10.978454681, -13.5)):
            Rectangle(SKETCH15_W, SKETCH15_H)
    extrude(amount=BOSS_EXTRUDE7_DEPTH)

    # Sketch16 → Cut-Extrude8 (cut)
    with BuildSketch(Plane.XZ.offset(15)):
        with Locations((10.978454681, 11.130757801)):
            Circle(SKETCH16_R)
        with Locations((-13.021545319, 11.130757801)):
            Circle(SKETCH16_R)
        with Locations((10.978454681, -29.869242199)):
            Circle(SKETCH16_R)
    extrude(amount=-CUT_EXTRUDE8_DEPTH, mode=Mode.SUBTRACT)

    # Fillet2
    fillet2_edges = [part.edges().sort_by_distance(p)[0] for p in [
        (-15.521545319, -13.5, 13.630757801),
        (-10.521545319, -13.5, 13.630757801),
        (13.478454681, -13.5, 13.630757801),
        (8.478454681, -13.5, 13.630757801),
        (13.478454681, -13.5, -32.369242199),
        (8.478454681, -13.5, -32.369242199),
    ]]
    fillet(fillet2_edges, radius=FILLET2_R)

    # Sketch17 → Cut-Extrude9 (cut)
    with BuildSketch(Plane(origin=(0, -12, 0), x_dir=(1, 0, 0), z_dir=(0, 1, 0))):
        with Locations((10.978454681, -11.130757801)):
            Circle(SKETCH17_R)
        with Locations((-13.021545319, -11.130757801)):
            Circle(SKETCH17_R)
        with Locations((10.978454681, 29.869242199)):
            Circle(SKETCH17_R)
    extrude(amount=-CUT_EXTRUDE9_DEPTH, mode=Mode.SUBTRACT)

    # Sketch18 → Cut-Extrude10 (cut, through all)
    with BuildSketch(Plane.XY.offset(8.630757801)):
        with Locations((-1.521545319, -7.596891606)):
            Rectangle(SKETCH18_W, SKETCH18_H)
        with Locations((6.478454681, -7.596891606)):
            Rectangle(SKETCH18_W, SKETCH18_H)
        with Locations((-9.521545319, -7.596891606)):
            Rectangle(SKETCH18_W, SKETCH18_H)
    extrude(amount=-CUT_EXTRUDE10_DEPTH, mode=Mode.SUBTRACT)

    # Sketch19 → Cut-Extrude11 (cut, through all)
    with BuildSketch(Plane(origin=(0, 2, 0), x_dir=(1, 0, 0), z_dir=(0, 1, 0))):
        with Locations((-1.021545319, 21.369242199)):
            Rectangle(SKETCH19_W, SKETCH19_H)
        with Locations((-7.021545319, 21.369242199)):
            Rectangle(SKETCH19_W, SKETCH19_H)
        with Locations((4.978454681, 21.369242199)):
            Rectangle(SKETCH19_W, SKETCH19_H)
        with Locations((-1.021545319, 15.369242199)):
            Rectangle(SKETCH19_W, SKETCH19_H)
        with Locations((4.978454681, 15.369242199)):
            Rectangle(SKETCH19_W, SKETCH19_H)
        with Locations((-1.021545319, 9.369242199)):
            Rectangle(SKETCH19_W, SKETCH19_H)
        with Locations((4.978454681, 9.369242199)):
            Rectangle(SKETCH19_W, SKETCH19_H)
        with Locations((-1.021545319, 3.369242199)):
            Rectangle(SKETCH19_W, SKETCH19_H)
        with Locations((4.978454681, 3.369242199)):
            Rectangle(SKETCH19_W, SKETCH19_H)
        with Locations((-1.021545319, -2.630757801)):
            Rectangle(SKETCH19_W, SKETCH19_H)
        with Locations((4.978454681, -2.630757801)):
            Rectangle(SKETCH19_W, SKETCH19_H)
        with Locations((-7.021545319, 15.369242199)):
            Rectangle(SKETCH19_W, SKETCH19_H)
        with Locations((-7.021545319, 9.369242199)):
            Rectangle(SKETCH19_W, SKETCH19_H)
        with Locations((-7.021545319, 3.369242199)):
            Rectangle(SKETCH19_W, SKETCH19_H)
        with Locations((-7.021545319, -2.630757801)):
            Rectangle(SKETCH19_W, SKETCH19_H)
    extrude(amount=-CUT_EXTRUDE11_DEPTH, mode=Mode.SUBTRACT)

    # Sketch21 → Cut-Extrude12 (cut)
    with BuildSketch(Plane.ZY.offset(15.521545319)):
        with Locations((2.630757801, -7.6)):
            Rectangle(SKETCH21_W, SKETCH21_H)
        with Locations((-3.369242199, -7.6)):
            Rectangle(SKETCH21_W, SKETCH21_H)
        with Locations((-9.369242199, -7.6)):
            Rectangle(SKETCH21_W, SKETCH21_H)
        with Locations((-15.369242199, -7.6)):
            Rectangle(SKETCH21_W, SKETCH21_H)
        with Locations((-21.369242199, -7.6)):
            Rectangle(SKETCH21_W, SKETCH21_H)
    extrude(amount=-CUT_EXTRUDE12_DEPTH, mode=Mode.SUBTRACT)


solid = part.part
